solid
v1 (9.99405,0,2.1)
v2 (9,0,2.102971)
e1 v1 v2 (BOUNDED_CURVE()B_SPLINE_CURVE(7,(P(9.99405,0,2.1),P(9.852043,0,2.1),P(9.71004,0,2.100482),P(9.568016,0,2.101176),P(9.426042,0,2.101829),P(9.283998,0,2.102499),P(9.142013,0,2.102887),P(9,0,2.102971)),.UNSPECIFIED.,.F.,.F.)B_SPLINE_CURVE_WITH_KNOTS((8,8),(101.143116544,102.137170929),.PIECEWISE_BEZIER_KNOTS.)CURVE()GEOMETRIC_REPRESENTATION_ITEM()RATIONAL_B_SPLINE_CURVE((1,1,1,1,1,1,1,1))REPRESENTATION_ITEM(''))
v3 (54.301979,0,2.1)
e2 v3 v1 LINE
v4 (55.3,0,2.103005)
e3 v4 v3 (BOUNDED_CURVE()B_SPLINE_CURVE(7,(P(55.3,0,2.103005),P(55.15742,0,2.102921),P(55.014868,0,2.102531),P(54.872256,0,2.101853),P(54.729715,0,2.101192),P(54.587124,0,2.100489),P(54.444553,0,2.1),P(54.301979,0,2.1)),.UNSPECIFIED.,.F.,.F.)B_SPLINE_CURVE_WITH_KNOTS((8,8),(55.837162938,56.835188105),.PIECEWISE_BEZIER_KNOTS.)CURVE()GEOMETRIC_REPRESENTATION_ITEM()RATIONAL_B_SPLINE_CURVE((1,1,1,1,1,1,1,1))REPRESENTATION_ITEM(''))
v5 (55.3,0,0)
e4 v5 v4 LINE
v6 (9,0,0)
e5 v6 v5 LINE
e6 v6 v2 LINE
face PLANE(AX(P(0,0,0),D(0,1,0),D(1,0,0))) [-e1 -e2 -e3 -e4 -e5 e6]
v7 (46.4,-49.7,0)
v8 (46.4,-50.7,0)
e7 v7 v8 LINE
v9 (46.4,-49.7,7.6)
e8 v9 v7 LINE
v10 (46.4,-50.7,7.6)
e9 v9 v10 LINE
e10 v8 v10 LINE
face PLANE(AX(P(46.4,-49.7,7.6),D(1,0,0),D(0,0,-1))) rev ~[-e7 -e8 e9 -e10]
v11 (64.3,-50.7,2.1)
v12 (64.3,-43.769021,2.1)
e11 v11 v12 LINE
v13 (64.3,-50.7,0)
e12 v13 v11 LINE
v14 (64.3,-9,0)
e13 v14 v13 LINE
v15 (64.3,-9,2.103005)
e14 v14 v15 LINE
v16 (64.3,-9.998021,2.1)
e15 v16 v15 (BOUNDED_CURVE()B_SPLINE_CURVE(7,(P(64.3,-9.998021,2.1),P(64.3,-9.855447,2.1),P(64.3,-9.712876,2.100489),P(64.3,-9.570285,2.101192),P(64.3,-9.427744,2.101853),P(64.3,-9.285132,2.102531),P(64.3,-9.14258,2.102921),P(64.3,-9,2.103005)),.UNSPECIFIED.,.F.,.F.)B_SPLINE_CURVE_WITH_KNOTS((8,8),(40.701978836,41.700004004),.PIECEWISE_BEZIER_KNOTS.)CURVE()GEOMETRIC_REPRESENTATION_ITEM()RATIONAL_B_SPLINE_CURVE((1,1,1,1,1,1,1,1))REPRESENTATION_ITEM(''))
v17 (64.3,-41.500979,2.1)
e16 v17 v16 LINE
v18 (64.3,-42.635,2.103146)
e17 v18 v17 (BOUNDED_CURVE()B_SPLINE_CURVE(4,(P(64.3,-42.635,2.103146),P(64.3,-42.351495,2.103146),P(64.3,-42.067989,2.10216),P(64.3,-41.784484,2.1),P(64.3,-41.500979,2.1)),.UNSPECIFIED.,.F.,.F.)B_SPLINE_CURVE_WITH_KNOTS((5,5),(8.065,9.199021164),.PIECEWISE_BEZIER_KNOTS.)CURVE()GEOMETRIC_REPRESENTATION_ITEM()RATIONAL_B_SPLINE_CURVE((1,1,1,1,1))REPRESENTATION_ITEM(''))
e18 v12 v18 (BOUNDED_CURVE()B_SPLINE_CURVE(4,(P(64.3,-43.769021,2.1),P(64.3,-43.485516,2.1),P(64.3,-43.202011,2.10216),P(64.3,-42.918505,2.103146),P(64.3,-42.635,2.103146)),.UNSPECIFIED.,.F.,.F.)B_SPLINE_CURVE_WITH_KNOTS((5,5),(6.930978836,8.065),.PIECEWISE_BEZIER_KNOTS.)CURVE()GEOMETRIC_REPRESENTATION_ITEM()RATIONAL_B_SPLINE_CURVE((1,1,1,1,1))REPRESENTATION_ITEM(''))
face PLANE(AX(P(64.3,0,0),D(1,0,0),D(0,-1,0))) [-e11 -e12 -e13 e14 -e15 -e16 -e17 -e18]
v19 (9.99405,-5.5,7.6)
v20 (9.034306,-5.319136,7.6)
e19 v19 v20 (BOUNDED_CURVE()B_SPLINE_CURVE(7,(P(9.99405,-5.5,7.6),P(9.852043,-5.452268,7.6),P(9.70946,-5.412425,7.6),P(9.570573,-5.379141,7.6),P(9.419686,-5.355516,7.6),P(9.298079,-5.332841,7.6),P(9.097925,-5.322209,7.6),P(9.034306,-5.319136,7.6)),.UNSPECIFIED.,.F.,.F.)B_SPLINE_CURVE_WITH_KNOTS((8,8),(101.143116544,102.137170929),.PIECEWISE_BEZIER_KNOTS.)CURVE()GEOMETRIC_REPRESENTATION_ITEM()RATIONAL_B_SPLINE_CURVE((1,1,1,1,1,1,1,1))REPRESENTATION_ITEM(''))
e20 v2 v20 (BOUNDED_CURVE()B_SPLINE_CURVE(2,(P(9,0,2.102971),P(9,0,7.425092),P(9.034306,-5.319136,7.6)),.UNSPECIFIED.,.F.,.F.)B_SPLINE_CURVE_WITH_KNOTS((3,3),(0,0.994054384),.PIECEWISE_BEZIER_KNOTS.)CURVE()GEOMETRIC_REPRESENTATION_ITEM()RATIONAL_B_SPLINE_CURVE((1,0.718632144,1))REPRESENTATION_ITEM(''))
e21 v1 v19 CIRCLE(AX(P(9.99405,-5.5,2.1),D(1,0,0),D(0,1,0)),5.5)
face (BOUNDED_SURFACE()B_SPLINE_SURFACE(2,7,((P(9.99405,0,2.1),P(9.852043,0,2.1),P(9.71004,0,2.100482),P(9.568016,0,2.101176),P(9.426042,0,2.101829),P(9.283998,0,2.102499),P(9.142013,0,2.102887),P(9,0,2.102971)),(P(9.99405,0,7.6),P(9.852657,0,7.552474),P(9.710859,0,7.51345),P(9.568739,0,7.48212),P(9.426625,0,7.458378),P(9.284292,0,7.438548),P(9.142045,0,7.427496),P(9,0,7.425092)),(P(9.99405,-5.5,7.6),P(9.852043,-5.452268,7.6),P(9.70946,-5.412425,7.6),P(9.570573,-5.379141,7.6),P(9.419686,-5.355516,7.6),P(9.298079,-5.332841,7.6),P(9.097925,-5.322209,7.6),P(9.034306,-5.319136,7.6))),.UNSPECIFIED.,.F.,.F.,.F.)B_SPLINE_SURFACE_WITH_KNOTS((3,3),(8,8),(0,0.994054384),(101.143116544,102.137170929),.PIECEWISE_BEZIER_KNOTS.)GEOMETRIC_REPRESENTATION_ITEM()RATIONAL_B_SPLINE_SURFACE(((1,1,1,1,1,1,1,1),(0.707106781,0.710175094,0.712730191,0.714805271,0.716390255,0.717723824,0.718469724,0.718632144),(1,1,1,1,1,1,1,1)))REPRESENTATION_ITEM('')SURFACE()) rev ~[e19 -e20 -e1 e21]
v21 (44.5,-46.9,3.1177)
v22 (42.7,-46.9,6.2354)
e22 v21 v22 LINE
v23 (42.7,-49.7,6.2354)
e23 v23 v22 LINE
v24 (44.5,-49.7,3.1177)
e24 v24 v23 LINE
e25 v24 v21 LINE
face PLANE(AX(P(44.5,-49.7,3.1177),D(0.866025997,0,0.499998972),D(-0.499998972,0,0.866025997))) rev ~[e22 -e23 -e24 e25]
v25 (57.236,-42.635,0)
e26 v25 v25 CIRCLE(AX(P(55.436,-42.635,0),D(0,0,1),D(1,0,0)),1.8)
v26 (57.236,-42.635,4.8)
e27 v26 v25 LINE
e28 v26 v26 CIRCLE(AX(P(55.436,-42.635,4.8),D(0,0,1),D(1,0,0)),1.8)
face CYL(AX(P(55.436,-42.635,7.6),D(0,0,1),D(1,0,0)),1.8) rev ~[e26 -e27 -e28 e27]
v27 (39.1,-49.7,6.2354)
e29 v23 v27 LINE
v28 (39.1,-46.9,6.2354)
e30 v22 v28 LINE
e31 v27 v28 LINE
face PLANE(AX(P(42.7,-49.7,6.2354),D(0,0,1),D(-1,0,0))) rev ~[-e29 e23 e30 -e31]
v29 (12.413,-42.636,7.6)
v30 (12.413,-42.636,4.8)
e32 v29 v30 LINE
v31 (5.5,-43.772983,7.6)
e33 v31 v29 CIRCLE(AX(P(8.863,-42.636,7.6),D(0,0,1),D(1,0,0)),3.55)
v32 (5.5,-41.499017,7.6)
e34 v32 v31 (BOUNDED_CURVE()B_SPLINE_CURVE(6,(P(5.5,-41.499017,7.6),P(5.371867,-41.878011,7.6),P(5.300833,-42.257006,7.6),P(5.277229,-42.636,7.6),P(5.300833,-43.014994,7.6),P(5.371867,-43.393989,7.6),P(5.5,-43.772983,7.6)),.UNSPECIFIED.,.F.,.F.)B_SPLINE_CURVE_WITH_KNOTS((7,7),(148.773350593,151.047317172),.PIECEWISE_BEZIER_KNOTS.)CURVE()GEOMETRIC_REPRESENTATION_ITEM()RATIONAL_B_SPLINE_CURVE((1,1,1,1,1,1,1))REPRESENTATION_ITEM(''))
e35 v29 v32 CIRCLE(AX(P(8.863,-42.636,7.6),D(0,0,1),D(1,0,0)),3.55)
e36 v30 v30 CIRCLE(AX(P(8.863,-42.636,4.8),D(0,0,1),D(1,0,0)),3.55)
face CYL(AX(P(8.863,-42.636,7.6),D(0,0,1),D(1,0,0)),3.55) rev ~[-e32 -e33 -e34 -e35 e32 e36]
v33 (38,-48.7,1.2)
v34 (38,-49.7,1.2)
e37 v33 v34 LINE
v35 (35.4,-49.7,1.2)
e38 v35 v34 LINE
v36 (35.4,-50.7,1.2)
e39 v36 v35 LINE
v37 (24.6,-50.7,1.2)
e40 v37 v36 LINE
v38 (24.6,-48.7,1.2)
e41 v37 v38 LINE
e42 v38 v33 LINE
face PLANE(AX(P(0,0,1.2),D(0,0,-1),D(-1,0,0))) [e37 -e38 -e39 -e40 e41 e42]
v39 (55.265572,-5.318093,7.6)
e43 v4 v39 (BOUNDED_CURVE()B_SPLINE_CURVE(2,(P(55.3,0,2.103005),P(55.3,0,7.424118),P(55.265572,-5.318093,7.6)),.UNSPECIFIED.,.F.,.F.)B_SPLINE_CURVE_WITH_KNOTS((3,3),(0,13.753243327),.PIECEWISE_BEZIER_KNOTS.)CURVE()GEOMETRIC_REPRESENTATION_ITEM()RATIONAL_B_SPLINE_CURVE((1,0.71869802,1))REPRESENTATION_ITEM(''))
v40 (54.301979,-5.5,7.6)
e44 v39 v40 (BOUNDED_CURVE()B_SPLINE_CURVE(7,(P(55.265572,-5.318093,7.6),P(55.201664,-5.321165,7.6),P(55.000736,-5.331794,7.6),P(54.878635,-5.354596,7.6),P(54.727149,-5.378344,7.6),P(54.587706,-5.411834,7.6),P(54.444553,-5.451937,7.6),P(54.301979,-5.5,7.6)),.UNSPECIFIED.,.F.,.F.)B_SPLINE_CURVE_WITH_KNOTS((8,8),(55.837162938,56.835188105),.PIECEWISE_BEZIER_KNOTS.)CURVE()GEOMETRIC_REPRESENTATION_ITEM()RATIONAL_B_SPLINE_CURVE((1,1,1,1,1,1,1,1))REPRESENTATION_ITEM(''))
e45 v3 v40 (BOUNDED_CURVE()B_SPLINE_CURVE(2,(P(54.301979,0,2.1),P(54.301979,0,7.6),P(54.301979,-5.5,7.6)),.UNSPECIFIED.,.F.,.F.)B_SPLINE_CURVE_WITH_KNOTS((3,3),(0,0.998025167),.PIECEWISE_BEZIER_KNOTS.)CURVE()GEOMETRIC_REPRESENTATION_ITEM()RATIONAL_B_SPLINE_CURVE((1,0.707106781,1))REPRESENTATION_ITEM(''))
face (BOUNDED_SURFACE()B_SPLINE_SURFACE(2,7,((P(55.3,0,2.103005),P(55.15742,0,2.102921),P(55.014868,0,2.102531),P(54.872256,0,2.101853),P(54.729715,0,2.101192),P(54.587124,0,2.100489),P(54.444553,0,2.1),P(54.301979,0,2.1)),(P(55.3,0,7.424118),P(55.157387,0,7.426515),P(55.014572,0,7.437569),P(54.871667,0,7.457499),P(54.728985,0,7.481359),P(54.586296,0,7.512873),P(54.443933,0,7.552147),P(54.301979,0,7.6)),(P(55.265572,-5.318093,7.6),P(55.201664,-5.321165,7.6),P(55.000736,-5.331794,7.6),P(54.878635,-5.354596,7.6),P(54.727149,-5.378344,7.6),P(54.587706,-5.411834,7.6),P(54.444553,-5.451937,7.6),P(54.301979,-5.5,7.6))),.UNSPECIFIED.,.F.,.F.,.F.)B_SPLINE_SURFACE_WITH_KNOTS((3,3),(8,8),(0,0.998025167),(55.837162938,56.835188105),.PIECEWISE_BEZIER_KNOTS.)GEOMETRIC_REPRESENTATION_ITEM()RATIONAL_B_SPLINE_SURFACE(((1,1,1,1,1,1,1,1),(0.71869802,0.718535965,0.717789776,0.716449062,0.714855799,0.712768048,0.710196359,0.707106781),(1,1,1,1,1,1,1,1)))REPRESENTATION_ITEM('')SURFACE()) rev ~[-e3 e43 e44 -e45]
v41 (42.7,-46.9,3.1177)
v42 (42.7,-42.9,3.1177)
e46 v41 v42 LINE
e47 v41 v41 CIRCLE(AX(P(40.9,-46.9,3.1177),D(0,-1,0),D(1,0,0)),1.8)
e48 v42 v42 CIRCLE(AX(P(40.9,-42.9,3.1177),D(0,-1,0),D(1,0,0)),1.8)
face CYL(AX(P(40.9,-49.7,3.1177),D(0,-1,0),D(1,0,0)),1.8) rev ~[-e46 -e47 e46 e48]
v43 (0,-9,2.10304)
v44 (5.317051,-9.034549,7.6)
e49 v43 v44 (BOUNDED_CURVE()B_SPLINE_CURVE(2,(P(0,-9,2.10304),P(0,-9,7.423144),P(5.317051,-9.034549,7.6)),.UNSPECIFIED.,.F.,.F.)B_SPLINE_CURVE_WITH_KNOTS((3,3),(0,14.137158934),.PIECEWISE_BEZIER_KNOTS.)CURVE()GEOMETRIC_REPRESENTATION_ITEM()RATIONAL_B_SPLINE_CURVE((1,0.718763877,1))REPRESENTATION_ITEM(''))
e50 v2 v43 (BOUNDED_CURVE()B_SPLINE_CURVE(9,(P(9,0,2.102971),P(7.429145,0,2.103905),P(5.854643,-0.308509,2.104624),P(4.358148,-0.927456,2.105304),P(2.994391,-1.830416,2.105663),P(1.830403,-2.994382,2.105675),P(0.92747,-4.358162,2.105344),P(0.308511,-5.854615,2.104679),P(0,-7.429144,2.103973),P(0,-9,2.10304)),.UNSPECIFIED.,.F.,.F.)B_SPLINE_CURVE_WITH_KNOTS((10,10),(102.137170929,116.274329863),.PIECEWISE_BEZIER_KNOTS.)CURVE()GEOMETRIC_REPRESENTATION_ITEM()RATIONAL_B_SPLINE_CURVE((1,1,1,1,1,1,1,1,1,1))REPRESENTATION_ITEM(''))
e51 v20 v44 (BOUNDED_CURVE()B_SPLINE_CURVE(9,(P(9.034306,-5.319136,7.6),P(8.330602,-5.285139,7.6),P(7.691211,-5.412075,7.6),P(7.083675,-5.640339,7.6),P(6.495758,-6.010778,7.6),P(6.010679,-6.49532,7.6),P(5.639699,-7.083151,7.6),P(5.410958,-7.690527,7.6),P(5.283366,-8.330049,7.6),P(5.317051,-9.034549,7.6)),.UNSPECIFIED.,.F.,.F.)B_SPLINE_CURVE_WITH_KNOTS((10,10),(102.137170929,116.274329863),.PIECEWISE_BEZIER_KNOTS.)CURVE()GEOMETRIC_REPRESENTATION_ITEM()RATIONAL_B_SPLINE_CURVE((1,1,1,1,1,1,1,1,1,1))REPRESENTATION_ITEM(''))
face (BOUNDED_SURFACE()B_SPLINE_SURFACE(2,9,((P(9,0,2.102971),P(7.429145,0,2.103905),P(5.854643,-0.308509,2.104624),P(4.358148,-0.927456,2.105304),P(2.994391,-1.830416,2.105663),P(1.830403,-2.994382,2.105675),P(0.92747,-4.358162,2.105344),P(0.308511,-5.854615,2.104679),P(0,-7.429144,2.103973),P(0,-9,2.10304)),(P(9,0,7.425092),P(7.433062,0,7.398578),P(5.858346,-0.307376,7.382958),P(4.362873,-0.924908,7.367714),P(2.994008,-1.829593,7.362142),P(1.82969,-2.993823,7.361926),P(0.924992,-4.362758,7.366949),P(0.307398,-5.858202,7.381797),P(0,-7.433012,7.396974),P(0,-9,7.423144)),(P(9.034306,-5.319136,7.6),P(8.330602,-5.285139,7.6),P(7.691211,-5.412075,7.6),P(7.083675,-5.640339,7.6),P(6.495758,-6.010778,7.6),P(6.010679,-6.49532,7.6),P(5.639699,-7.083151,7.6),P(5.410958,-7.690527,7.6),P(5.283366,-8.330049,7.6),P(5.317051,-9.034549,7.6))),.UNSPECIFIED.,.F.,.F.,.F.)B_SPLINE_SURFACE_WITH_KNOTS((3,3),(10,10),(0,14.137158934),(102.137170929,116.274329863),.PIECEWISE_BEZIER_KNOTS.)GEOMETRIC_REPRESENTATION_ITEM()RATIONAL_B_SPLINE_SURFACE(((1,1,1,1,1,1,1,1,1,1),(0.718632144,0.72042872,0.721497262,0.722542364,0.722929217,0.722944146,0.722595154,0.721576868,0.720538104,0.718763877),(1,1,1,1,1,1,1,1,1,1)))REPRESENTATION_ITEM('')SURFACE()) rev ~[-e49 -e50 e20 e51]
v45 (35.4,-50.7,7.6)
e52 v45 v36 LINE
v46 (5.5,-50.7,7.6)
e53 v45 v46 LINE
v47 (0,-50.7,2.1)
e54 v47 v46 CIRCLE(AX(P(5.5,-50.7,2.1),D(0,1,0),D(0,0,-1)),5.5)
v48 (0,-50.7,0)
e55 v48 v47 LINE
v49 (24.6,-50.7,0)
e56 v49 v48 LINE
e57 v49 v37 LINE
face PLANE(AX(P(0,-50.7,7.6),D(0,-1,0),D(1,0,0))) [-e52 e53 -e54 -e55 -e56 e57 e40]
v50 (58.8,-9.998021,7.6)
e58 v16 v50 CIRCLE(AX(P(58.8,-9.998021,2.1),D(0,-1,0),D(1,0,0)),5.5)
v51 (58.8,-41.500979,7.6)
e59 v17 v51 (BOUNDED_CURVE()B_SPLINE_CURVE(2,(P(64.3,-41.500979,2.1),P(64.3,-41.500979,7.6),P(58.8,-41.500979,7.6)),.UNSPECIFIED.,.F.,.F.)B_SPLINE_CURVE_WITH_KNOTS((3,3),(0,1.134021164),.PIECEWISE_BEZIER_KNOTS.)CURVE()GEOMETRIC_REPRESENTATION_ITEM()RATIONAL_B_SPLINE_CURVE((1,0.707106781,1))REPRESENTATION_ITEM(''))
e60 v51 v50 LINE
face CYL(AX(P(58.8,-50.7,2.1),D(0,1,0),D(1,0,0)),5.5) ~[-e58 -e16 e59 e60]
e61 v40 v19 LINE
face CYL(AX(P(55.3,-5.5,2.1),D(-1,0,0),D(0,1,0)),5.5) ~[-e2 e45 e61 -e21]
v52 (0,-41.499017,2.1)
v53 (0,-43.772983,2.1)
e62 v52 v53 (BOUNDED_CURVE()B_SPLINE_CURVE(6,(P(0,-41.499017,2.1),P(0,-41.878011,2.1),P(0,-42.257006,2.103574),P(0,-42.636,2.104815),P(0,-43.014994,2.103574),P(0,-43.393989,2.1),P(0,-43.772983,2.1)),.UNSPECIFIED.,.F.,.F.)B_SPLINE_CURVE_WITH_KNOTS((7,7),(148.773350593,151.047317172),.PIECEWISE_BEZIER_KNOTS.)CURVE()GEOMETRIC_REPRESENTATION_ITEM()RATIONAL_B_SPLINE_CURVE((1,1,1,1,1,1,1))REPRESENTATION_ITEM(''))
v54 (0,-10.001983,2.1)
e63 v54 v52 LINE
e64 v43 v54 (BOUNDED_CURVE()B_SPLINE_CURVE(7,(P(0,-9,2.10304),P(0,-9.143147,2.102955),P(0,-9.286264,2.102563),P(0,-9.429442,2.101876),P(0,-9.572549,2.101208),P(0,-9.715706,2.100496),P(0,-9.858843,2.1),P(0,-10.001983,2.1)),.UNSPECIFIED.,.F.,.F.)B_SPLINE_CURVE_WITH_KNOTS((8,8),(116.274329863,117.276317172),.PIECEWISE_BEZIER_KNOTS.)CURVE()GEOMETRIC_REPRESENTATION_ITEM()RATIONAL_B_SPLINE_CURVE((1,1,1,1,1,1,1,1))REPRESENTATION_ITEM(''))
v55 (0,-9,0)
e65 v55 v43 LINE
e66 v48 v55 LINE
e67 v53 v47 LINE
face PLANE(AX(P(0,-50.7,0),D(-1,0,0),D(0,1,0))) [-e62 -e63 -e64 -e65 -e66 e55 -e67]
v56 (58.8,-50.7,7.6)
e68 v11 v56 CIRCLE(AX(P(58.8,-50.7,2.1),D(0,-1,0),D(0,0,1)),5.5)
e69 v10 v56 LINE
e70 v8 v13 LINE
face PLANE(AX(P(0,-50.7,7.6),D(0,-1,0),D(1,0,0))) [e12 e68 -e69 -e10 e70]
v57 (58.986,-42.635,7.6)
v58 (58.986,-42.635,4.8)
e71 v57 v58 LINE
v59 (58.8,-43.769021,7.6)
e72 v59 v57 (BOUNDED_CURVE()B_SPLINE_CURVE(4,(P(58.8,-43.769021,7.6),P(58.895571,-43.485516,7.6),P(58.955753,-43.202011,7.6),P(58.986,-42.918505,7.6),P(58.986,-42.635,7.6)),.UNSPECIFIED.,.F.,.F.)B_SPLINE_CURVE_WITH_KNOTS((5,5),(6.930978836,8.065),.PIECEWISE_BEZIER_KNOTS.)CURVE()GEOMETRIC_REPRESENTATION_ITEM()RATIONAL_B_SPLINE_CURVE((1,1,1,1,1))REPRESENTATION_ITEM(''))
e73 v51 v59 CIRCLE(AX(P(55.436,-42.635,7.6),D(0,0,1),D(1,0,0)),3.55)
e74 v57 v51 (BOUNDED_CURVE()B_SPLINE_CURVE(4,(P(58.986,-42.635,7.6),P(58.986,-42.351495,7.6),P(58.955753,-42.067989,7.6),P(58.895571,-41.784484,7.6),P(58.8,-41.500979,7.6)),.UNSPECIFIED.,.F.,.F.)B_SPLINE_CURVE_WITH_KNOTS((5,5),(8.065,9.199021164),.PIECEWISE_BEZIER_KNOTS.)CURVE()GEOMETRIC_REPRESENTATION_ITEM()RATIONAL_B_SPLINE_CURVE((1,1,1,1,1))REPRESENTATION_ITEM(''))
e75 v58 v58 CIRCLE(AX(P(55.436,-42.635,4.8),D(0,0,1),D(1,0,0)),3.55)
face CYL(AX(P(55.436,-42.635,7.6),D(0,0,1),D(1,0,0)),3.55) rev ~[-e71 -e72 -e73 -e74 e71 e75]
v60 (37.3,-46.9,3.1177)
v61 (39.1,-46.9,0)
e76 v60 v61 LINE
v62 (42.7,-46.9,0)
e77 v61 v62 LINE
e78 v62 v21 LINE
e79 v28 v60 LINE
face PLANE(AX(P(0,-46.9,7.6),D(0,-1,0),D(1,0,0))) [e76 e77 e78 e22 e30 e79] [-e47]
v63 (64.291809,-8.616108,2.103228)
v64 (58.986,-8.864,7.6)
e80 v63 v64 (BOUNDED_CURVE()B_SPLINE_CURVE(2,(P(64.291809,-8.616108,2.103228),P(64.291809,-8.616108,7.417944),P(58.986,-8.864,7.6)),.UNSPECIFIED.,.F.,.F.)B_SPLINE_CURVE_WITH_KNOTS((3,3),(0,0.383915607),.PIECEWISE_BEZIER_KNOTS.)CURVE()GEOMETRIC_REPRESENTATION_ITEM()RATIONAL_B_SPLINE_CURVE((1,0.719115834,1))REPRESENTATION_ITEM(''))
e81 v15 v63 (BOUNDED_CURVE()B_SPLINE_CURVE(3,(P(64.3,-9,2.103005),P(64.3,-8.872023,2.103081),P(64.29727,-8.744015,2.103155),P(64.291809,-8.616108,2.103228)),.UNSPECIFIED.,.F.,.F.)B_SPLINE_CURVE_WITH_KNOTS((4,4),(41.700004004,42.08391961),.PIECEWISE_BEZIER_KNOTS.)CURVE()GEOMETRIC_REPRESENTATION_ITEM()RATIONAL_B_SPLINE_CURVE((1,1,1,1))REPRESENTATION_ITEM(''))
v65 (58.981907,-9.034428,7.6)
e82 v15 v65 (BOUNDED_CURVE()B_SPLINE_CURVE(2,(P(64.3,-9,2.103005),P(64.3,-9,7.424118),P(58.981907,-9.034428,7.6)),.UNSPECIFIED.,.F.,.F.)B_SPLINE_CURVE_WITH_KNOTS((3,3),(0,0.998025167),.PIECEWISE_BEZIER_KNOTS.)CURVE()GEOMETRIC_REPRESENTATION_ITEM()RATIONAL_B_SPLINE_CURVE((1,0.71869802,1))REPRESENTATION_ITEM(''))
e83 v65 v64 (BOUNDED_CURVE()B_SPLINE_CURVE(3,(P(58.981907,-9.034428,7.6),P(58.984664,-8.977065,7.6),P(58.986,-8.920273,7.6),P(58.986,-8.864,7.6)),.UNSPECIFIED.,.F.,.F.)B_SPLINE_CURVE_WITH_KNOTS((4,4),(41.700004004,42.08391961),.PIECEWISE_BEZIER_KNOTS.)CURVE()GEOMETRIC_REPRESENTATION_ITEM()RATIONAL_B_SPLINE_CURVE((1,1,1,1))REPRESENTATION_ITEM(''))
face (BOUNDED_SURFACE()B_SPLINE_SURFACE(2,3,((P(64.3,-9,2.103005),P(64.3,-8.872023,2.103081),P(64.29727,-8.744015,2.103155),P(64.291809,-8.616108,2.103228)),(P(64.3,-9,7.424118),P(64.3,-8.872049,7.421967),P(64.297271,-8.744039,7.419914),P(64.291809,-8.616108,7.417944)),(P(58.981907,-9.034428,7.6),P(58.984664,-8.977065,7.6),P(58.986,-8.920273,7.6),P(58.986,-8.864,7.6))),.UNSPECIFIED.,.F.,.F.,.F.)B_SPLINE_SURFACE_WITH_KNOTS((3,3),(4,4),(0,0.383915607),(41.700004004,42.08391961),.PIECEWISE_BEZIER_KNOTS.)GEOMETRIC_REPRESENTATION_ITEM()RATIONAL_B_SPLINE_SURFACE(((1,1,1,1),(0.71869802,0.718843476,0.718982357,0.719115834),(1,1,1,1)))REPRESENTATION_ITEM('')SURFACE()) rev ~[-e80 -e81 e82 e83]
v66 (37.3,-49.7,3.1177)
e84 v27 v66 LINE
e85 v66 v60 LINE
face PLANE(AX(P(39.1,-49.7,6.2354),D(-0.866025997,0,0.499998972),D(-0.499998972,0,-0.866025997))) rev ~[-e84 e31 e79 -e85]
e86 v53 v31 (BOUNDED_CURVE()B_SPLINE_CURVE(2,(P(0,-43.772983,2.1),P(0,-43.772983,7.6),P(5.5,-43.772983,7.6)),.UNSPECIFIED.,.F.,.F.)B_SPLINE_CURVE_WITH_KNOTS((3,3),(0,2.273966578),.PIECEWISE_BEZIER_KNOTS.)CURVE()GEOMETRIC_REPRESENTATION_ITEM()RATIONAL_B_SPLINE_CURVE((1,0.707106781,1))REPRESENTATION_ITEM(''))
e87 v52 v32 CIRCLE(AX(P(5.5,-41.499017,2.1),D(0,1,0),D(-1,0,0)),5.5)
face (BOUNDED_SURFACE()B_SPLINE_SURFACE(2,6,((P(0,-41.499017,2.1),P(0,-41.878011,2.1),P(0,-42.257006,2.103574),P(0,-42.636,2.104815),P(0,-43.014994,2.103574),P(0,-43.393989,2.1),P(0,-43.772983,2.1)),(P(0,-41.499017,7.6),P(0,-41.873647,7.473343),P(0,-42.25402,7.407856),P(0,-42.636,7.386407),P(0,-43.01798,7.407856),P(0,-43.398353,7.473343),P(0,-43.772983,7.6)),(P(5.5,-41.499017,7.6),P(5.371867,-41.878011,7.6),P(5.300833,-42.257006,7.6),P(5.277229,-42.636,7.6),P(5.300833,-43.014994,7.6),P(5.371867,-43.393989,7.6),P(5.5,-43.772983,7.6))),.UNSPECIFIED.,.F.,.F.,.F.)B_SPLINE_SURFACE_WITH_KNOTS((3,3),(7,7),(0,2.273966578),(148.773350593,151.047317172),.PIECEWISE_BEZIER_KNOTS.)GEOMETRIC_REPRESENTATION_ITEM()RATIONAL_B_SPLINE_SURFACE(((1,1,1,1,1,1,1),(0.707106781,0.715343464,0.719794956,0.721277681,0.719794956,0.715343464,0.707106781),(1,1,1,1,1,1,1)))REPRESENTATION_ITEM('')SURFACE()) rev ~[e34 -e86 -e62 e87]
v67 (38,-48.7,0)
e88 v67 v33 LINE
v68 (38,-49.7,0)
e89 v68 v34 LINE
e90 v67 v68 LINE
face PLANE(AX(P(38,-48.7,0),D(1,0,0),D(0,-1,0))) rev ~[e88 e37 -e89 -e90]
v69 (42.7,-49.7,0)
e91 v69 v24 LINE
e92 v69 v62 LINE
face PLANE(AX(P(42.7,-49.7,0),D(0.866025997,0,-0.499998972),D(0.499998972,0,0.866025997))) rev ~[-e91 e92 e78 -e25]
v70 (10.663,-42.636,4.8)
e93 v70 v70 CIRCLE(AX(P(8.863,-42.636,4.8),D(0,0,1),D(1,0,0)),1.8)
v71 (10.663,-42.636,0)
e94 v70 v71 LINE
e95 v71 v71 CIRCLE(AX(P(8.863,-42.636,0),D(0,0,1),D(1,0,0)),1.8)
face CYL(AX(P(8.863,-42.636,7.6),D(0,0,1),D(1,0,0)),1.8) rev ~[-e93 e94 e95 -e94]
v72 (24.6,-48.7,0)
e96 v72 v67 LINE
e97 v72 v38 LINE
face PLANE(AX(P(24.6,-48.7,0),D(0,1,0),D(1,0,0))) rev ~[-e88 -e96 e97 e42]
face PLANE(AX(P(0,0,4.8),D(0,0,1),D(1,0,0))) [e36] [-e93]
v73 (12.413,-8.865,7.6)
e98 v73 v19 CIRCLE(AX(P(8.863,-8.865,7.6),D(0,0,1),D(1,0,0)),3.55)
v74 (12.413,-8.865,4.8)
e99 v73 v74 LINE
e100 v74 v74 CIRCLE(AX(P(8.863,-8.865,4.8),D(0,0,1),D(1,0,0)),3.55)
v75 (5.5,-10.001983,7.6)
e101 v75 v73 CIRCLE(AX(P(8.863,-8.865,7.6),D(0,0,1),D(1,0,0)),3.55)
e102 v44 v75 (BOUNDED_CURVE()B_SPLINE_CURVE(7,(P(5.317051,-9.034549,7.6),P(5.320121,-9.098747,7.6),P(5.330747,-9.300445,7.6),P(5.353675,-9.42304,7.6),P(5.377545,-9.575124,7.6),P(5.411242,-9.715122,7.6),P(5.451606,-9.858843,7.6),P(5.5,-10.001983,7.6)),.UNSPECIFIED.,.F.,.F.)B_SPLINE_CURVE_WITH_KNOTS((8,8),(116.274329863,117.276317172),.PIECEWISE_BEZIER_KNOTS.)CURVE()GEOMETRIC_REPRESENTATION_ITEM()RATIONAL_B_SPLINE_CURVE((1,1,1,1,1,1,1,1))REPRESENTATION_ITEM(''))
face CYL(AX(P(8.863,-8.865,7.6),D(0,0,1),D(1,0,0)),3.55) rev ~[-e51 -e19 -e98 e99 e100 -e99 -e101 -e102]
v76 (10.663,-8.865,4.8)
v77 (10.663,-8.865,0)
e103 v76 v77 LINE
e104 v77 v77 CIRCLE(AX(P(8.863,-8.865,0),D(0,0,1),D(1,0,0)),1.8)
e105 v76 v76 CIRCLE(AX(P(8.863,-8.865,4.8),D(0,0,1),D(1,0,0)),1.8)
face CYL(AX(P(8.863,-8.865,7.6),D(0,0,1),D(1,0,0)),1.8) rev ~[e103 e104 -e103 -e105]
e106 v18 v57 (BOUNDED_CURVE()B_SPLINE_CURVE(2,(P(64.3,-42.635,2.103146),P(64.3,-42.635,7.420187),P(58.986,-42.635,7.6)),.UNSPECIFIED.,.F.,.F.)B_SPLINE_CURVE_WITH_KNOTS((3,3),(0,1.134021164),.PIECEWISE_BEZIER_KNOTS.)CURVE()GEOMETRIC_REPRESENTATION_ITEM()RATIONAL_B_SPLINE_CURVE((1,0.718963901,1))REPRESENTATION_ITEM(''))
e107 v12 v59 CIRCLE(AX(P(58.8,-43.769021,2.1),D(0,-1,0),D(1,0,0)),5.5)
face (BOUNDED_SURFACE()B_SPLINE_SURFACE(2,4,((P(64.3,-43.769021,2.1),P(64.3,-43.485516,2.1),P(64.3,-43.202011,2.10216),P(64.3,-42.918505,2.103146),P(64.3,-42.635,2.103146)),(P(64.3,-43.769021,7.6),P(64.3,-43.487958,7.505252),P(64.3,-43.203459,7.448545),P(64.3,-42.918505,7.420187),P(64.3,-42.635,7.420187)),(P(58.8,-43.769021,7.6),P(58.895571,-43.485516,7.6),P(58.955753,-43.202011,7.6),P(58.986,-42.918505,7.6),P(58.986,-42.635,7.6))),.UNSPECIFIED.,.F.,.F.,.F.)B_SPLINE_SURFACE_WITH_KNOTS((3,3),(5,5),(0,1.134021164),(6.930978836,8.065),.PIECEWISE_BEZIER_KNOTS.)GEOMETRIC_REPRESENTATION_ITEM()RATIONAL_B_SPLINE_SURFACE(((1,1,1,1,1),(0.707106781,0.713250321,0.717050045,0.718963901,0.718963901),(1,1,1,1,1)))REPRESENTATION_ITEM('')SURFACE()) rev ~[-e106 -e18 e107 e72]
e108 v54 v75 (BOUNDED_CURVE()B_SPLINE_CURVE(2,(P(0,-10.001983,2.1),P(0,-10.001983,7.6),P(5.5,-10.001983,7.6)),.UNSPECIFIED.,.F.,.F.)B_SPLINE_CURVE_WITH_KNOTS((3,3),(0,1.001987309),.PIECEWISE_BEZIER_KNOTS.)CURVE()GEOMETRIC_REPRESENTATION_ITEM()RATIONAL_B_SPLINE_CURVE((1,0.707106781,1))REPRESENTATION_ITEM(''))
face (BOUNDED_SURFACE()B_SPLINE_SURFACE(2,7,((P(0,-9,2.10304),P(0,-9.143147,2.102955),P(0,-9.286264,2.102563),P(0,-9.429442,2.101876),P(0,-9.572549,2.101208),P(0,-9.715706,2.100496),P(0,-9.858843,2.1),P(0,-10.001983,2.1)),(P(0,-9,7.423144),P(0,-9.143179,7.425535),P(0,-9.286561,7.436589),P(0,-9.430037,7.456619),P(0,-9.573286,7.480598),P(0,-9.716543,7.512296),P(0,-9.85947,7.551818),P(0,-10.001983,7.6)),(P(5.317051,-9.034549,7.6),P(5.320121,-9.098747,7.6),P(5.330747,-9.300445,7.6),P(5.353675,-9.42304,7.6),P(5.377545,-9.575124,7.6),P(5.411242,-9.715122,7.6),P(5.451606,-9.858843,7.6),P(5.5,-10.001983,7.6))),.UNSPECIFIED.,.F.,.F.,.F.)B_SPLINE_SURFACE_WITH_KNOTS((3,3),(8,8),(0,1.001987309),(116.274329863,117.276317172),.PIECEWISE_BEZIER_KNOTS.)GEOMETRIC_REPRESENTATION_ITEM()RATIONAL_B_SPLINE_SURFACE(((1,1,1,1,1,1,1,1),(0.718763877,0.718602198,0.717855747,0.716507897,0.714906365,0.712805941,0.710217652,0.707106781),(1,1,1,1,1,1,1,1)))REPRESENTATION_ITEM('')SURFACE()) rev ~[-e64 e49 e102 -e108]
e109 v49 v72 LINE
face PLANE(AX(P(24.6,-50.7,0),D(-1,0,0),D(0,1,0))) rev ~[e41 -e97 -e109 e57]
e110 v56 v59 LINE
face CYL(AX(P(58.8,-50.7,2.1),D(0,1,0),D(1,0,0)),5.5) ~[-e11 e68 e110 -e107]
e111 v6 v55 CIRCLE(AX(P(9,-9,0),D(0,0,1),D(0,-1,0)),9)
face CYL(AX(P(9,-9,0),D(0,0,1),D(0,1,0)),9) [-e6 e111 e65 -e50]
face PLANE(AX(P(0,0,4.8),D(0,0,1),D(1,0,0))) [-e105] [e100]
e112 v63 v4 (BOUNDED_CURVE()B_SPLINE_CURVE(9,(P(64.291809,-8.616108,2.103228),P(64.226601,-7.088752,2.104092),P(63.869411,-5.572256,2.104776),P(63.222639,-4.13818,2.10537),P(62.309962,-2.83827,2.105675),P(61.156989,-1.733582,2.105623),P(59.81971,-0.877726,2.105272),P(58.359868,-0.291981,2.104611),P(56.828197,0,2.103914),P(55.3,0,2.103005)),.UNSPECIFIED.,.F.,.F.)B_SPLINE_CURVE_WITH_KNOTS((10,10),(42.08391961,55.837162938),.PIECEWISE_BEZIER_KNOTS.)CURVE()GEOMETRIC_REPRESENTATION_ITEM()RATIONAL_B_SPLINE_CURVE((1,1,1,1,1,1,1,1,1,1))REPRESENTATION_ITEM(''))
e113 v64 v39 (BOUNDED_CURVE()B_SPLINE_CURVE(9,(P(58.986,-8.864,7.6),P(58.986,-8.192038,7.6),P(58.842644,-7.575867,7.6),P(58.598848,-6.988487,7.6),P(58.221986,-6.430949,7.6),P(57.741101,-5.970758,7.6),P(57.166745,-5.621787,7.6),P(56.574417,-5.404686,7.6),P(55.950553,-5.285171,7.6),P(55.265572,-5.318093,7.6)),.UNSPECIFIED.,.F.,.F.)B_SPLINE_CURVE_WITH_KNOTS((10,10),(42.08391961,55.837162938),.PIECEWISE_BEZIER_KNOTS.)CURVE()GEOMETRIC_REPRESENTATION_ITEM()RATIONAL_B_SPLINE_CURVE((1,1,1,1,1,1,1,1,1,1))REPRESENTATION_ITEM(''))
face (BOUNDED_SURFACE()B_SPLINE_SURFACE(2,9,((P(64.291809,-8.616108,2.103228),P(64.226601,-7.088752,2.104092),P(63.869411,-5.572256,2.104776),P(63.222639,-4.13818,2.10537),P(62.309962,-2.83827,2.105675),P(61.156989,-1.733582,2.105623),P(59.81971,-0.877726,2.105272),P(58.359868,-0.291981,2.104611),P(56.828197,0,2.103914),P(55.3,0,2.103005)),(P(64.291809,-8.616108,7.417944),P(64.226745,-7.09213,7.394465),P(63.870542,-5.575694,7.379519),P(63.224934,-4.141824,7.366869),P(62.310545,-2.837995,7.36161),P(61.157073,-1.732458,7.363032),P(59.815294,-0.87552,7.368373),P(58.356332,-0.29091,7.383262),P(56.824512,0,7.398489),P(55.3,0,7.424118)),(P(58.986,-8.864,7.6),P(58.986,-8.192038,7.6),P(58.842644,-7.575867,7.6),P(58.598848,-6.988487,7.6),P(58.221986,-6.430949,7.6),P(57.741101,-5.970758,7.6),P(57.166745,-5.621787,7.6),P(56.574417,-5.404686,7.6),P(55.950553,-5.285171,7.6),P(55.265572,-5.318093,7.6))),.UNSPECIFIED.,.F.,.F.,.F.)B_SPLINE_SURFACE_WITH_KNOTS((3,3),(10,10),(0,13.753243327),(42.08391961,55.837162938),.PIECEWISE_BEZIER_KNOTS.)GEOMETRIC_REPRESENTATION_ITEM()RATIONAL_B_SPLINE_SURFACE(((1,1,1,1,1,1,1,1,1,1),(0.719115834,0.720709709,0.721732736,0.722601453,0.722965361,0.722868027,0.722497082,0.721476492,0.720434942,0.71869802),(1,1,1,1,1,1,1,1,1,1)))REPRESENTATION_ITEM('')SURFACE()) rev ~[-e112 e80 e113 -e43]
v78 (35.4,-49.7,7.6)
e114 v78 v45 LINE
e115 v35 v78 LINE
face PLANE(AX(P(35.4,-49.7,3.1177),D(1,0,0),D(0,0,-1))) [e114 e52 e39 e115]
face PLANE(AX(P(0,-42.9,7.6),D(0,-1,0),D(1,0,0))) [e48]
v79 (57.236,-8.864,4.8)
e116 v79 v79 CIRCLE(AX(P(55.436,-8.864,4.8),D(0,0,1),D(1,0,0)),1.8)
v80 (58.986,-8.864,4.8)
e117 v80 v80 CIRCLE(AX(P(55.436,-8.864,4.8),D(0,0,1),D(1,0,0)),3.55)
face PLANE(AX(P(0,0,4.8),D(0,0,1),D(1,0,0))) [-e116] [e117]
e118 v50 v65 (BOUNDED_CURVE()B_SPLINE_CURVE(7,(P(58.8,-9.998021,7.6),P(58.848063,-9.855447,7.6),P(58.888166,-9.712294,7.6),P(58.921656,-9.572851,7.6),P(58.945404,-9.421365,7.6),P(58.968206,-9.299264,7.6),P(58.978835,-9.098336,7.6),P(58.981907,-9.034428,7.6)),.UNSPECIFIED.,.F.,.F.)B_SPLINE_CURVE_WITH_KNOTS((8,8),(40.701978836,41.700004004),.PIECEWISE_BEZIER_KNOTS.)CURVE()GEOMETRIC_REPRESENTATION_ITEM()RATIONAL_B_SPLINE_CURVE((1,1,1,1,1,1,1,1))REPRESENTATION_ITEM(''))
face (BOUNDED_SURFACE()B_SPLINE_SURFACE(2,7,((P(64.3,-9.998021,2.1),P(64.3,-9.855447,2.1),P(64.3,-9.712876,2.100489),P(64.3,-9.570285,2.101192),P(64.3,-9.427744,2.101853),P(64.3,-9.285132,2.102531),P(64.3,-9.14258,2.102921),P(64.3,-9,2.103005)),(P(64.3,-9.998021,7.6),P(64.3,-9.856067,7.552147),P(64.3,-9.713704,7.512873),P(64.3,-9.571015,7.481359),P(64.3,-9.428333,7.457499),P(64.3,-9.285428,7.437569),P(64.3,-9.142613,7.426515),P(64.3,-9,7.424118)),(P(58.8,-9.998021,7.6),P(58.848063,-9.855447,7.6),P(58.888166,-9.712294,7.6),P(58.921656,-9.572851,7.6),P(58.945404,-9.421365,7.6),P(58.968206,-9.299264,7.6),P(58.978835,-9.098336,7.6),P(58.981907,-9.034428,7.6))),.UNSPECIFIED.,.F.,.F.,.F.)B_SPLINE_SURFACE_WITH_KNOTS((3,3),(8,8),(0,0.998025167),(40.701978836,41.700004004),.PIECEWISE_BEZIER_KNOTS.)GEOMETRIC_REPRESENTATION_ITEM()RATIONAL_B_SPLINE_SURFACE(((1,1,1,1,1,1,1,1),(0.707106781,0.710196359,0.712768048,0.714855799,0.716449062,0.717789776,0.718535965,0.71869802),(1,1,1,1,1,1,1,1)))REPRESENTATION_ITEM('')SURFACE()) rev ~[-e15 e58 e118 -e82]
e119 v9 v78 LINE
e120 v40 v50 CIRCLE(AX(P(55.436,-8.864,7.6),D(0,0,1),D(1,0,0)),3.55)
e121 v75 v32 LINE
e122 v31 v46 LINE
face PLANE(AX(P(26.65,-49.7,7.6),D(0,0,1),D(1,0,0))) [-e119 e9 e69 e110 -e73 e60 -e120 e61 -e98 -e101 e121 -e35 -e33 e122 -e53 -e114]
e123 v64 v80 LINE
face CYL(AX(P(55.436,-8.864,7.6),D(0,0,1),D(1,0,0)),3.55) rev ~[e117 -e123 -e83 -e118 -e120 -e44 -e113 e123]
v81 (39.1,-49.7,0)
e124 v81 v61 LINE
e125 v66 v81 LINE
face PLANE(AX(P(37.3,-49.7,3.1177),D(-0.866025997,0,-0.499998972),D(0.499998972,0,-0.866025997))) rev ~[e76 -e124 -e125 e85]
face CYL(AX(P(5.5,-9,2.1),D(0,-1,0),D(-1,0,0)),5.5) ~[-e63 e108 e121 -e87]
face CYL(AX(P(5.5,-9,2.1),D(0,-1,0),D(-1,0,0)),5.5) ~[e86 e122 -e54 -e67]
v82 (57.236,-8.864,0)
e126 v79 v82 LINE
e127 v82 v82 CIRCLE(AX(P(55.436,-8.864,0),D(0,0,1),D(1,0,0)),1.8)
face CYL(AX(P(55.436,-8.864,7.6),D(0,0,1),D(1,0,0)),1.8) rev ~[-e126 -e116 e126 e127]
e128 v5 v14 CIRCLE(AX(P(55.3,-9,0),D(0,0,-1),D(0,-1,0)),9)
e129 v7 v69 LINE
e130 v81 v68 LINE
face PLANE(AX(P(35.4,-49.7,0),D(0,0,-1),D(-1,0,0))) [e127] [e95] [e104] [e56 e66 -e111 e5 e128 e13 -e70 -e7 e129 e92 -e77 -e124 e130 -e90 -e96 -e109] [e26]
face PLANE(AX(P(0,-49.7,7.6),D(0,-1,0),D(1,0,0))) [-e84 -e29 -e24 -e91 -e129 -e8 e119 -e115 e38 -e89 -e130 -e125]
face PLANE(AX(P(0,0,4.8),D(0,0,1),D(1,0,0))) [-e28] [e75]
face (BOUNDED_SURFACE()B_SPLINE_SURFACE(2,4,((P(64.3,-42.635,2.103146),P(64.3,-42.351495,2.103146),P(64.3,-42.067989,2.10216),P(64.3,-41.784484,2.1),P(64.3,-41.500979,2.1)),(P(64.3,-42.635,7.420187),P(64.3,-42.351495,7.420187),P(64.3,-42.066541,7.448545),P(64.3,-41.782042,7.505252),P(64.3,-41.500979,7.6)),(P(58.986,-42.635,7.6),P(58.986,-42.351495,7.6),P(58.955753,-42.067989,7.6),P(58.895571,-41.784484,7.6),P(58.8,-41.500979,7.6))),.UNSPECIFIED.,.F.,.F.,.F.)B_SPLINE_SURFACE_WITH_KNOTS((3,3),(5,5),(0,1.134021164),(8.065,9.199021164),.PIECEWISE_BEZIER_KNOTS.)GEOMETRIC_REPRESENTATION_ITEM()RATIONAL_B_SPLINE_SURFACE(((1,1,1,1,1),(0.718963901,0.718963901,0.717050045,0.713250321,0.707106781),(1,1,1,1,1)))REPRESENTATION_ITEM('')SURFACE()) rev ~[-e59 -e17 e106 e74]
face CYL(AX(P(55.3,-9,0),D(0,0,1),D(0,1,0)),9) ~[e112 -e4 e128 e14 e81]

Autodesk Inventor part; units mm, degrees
ref_plane "YZ Plane" through (0, 0, 0) normal (1, 0, 0) x (0, 1, 0)
ref_plane "XZ Plane" through (0, 0, 0) normal (0, 1, 0) x (-1, 0, 0)
ref_plane "XY Plane" through (0, 0, 0) normal (0, 0, 1) x (1, 0, 0)
sketch "Эскиз1" plane through (0, 0, 0) normal (0, 0, 1) x (1, 0, 0)
  line L0 (0, 0) -> (64.3, 0)
  line L1 (64.3, 0) -> (64.3, -50.7)
  line L2 (64.3, -50.7) -> (0, -50.7)
  line L3 (0, -50.7) -> (0, 0)
  dimension "d0" = 64.3
  dimension "d1" = 50.7
extrude "Выдавливание1" add sketch "Эскиз1" along normal blind 7.6
sketch "Эскиз2" plane through (0, -50.7, 0) normal (0, -1, 0) x (1, 0, 0)
  line L0 (0, 0) -> (64.3, 0) projected
  line L1 (0, 0) -> (32.15, 0)
  line L2 (32.15, 0) -> (33.95, 0)
  line L3 (33.95, 0) -> (35.75, 3.1177)
  line L4 (35.75, 3.1177) -> (33.95, 6.2354)
  line L5 (33.95, 6.2354) -> (30.35, 6.2354)
  line L6 (30.35, 6.2354) -> (28.55, 3.1177)
  line L7 (28.55, 3.1177) -> (30.35, 0)
  line L8 (30.35, 0) -> (32.15, 0)
  dimension "d4" = 32.15
  dimension "d5" = 1.8
  dimension "d6" = 3.6
  dimension "d7" = 120
  dimension "d8" = 3.6
  dimension "d9" = 120
extrude "Выдавливание2" cut sketch "Эскиз2" against normal blind 3.8
sketch "Эскиз3" plane through (0, -50.7, 7.6) normal (0, -1, 0) x (1, 0, 0)
  circle A0 centre (32.15, -4.4823) radius 1.8
  point P0 (0, -7.6)
  dimension "d12" = 3.6
extrude "Выдавливание3" cut sketch "Эскиз3" against normal blind 6.8
sketch "Эскиз4" plane through (0, -50.7, 7.6) normal (0, -1, 0) x (1, 0, 0)
  circle A0 centre (32.15, -4.4823) radius 1.8 projected
  line L0 (32.15, -4.4823) -> (37.65, -4.4823)
  line L1 (64.3, -7.6) -> (33.95, -7.6) projected
  line L2 (0, 0) -> (64.3, 0) projected
  line L3 (37.65, -7.6) -> (26.65, -7.6)
  line L4 (26.65, -7.6) -> (26.65, 0)
  line L5 (26.65, 0) -> (37.65, 0)
  line L6 (37.65, 0) -> (37.65, -7.6)
  point P0 (0, -7.6)
  dimension "d15" = 5.5
  dimension "d16" = 11
extrude "Выдавливание4" cut sketch "Эскиз4" against normal blind 1
fillet "Сопряжение1" radius 9 2 edges at (0, 0, 3.8) (64.3, 0, 3.8)
sketch "Эскиз5" plane through (0, 0, 7.6) normal (0, 0, 1) x (1, 0, 0)
  line L0 (0, 0) -> (8.864, -0.001)
  arc A0 (9, 0) -> (0, -9) centre (9, -9) ccw projected
  line L1 (8.864, -0.001) -> (8.863, -8.865)
  circle A1 centre (8.863, -8.865) radius 1.8
  line L2 (64.3, 0) -> (55.436, 0)
  line L3 (55.3, 0) -> (9, 0) projected
  line L4 (55.436, 0) -> (55.436, -8.864)
  circle A2 centre (55.436, -8.864) radius 1.8
  dimension "d20" = 8.864
  dimension "d21" = 8.864
  dimension "d22" = 3.6
  dimension "d23" = 8.864
  dimension "d24" = 8.864
  dimension "d25" = 90
  dimension "d26" = 3.6
extrude "Выдавливание5" cut sketch "Эскиз5" against normal blind 10
sketch "Эскиз6" plane through (0, 0, 7.6) normal (0, 0, 1) x (1, 0, 0)
  circle A0 centre (8.863, -8.865) radius 1.8 projected
  line L0 (8.863, -8.865) -> (8.863, -42.636)
  circle A1 centre (8.863, -42.636) radius 1.8
  circle A2 centre (55.436, -8.864) radius 1.8 projected
  line L1 (55.436, -8.864) -> (55.436, -42.635)
  circle A3 centre (55.436, -42.635) radius 1.8
  point P0 (0, 0)
  dimension "d29" = 33.771
  dimension "d30" = 3.6
  dimension "d31" = 33.771
  dimension "d32" = 3.6
extrude "Выдавливание6" cut sketch "Эскиз6" against normal blind 10 contours A1 | A3
sketch "Эскиз7" plane through (0, 0, 7.6) normal (0, 0, 1) x (1, 0, 0)
  point P0 (0, 0)
sketch "Эскиз8" plane through (0, 0, 7.6) normal (0, 0, 1) x (1, 0, 0)
  circle A0 centre (8.863, -8.865) radius 1.8 projected
  circle A1 centre (8.863, -8.865) radius 3.55
  circle A2 centre (55.436, -8.864) radius 1.8 projected
  circle A3 centre (55.436, -8.864) radius 3.55
  circle A4 centre (55.436, -42.635) radius 1.8 projected
  circle A5 centre (55.436, -42.635) radius 3.55
  circle A6 centre (8.863, -42.636) radius 1.8 projected
  circle A7 centre (8.863, -42.636) radius 3.55
  point P0 (0, 0)
  dimension "d35" = 7.1
  dimension "d36" = 7.1
  dimension "d37" = 7.1
  dimension "d38" = 7.1
extrude "Выдавливание7" cut sketch "Эскиз8" against normal blind 2.8
fillet "Сопряжение2" radius 5.5 5 edges at (2.636, -2.636, 7.6) (32.15, 0, 7.6) (61.664, -2.636, 7.6) (64.3, -29.85, 7.6) (0, -29.85, 7.6)
sketch "Эскиз9" plane through (0, 0, 0) normal (0, 0, -1) x (-1, 0, 0)
  line L0 (0, -50.7) -> (0, -9) projected
  line L1 (0, -50.7) -> (-31.3, -50.7)
  line L2 (-26.65, -50.7) -> (0, -50.7) projected
  point P0 (0, 0)
  dimension "d42" = 31.3
sketch "Эскиз10" plane through (37.65, -50.7, 0) normal (0, -1, 0) x (1, 0, 0)
  point P0 (-37.65, 0)
sketch "Эскиз11" plane through (0, -49.7, 7.6) normal (0, -1, 0) x (1, 0, 0)
  line L0 (9, -7.6) -> (55.3, -7.6) projected
  line L1 (36.8968, -7.6) -> (28.1351, -7.6)
  line L2 (28.1351, -7.6) -> (28.1351, -0.8108)
  line L3 (28.1351, -0.8108) -> (36.8968, -0.8108)
  line L4 (36.8968, -0.8108) -> (36.8968, -7.6)
  point P0 (0, -7.6)
extrude "Выдавливание8" add sketch "Эскиз11" against normal blind 6.8
sketch "Эскиз12" plane through (37.65, -50.7, 0) normal (0, -1, 0) x (1, 0, 0)
  line L0 (0, 7.6) -> (0, 0) projected
  line L1 (26.65, 0) -> (0, 0) projected
  line L2 (0, 7.6) -> (6, 7.6)
  line L3 (6, 7.6) -> (6, 0)
  line L4 (6, 0) -> (0, 0)
  line L5 (0, 0) -> (0, 7.6)
  point P0 (-37.65, 0)
  dimension "d45" = 6
extrude "Выдавливание9" cut sketch "Эскиз12" against normal blind 1
sketch "Эскиз13" plane through (0, -49.7, 7.6) normal (0, -1, 0) x (1, 0, 0)
  line L0 (26.65, -7.6) -> (0, -7.6) projected
  line L1 (0, -7.6) -> (31.3, -7.6)
  line L2 (31.3, -7.6) -> (33.1, -7.6)
  line L3 (9, -7.6) -> (55.3, -7.6) projected
  line L4 (43.65, 0) -> (43.65, -7.6) projected
  line L5 (64.3, -7.6) -> (43.65, -7.6) projected
  line L6 (43.65, 0) -> (47.65, 0)
  line L7 (47.65, 0) -> (47.65, -7.6)
  line L8 (47.65, -7.6) -> (43.65, -7.6)
  line L9 (43.65, -7.6) -> (43.65, 0)
  dimension "d48" = 31.3
  dimension "d49" = 1.8
  dimension "d50" = 4
extrude "Выдавливание10" cut sketch "Эскиз13" along normal blind 1
sketch "Эскиз14" plane through (0, -49.7, 7.6) normal (0, -1, 0) x (1, 0, 0)
  line L0 (0, -7.6) -> (37.3, -7.6)
  line L1 (9, -7.6) -> (55.3, -7.6) projected
  line L2 (37.3, -7.6) -> (39.1, -7.6)
  line L3 (39.1, -7.6) -> (42.7, -7.6)
  line L4 (42.7, -7.6) -> (44.5, -4.4823)
  line L5 (44.5, -4.4823) -> (42.7, -1.3646)
  line L6 (42.7, -1.3646) -> (39.1, -1.3646)
  line L7 (39.1, -1.3646) -> (37.3, -4.4823)
  line L8 (37.3, -4.4823) -> (39.1, -7.6)
  dimension "d53" = 37.3
  dimension "d54" = 1.8
  dimension "d55" = 3.6
  dimension "d56" = 3.6
  dimension "d57" = 120
  dimension "d58" = 3.6
  dimension "d59" = 120
extrude "Выдавливание11" cut sketch "Эскиз14" against normal blind 2.8
sketch "Эскиз15" plane through (0, -49.7, 7.6) normal (0, -1, 0) x (1, 0, 0)
  circle A0 centre (40.9, -4.4823) radius 1.8
  point P0 (0, -7.6)
  dimension "d62" = 3.6
extrude "Выдавливание12" cut sketch "Эскиз15" against normal blind 6.8
sketch "Эскиз16" plane through (0, -49.7, 7.6) normal (0, -1, 0) x (1, 0, 0)
  circle A0 centre (40.9, -4.4823) radius 1.8 projected
  line L0 (40.9, -4.4823) -> (46.4, -4.4823)
  line L1 (47.65, -7.6) -> (47.65, 0) projected
  line L2 (46.4, -7.6) -> (47.65, -7.6)
  line L3 (47.65, -7.6) -> (47.65, 0)
  line L4 (47.65, 0) -> (46.4, 0)
  line L5 (46.4, 0) -> (46.4, -7.6)
  point P0 (0, -7.6)
  dimension "d65" = 5.5
extrude "Выдавливание13" add sketch "Эскиз16" along normal blind 1 contours L5 L4 L1 L2
sketch "Эскиз17" plane through (0, -49.7, 7.6) normal (0, -1, 0) x (1, 0, 0)
  circle A0 centre (40.9, -4.4823) radius 1.8 projected
  line L0 (40.9, -4.4823) -> (46.4, -4.4823)
  line L1 (46.4, 0) -> (46.4, -7.6) projected
  line L2 (40.9, -4.4823) -> (35.4, -4.4823)
  line L3 (26.65, -7.6) -> (26.65, 0) projected
  line L4 (26.65, 0) -> (35.4, 0)
  line L5 (35.4, 0) -> (35.4, -7.6)
  line L6 (35.4, -7.6) -> (26.65, -7.6)
  line L7 (26.65, -7.6) -> (26.65, 0)
  point P0 (0, -7.6)
  dimension "d68" = 5.5
  dimension "d69" = 5.5
extrude "Выдавливание14" add sketch "Эскиз17" along normal blind 1 contours L5 L6 L3 L4
sketch "Эскиз18" plane through (0, 0, 0) normal (0, 0, -1) x (-1, 0, 0)
  line L0 (0, -50.7) -> (-38, -50.7)
  point P0 (0, 0)
  dimension "d72" = 38
sketch "Эскиз19" plane through (0, 0, 0) normal (0, 0, -1) x (-1, 0, 0)
  line L0 (0, -50.7) -> (-38, -50.7)
  line L1 (-38, -50.7) -> (-24.6, -50.7)
  line L2 (-24.6, -50.7) -> (-24.6, -48.7)
  line L3 (-24.6, -48.7) -> (-38, -48.7)
  line L4 (-38, -48.7) -> (-38, -50.7)
  point P0 (0, 0)
  dimension "d73" = 38
  dimension "d74" = 13.4
  dimension "d75" = 2
extrude "Выдавливание15" cut sketch "Эскиз19" against normal blind 1.2
properties part number "golova 3 krushka"
